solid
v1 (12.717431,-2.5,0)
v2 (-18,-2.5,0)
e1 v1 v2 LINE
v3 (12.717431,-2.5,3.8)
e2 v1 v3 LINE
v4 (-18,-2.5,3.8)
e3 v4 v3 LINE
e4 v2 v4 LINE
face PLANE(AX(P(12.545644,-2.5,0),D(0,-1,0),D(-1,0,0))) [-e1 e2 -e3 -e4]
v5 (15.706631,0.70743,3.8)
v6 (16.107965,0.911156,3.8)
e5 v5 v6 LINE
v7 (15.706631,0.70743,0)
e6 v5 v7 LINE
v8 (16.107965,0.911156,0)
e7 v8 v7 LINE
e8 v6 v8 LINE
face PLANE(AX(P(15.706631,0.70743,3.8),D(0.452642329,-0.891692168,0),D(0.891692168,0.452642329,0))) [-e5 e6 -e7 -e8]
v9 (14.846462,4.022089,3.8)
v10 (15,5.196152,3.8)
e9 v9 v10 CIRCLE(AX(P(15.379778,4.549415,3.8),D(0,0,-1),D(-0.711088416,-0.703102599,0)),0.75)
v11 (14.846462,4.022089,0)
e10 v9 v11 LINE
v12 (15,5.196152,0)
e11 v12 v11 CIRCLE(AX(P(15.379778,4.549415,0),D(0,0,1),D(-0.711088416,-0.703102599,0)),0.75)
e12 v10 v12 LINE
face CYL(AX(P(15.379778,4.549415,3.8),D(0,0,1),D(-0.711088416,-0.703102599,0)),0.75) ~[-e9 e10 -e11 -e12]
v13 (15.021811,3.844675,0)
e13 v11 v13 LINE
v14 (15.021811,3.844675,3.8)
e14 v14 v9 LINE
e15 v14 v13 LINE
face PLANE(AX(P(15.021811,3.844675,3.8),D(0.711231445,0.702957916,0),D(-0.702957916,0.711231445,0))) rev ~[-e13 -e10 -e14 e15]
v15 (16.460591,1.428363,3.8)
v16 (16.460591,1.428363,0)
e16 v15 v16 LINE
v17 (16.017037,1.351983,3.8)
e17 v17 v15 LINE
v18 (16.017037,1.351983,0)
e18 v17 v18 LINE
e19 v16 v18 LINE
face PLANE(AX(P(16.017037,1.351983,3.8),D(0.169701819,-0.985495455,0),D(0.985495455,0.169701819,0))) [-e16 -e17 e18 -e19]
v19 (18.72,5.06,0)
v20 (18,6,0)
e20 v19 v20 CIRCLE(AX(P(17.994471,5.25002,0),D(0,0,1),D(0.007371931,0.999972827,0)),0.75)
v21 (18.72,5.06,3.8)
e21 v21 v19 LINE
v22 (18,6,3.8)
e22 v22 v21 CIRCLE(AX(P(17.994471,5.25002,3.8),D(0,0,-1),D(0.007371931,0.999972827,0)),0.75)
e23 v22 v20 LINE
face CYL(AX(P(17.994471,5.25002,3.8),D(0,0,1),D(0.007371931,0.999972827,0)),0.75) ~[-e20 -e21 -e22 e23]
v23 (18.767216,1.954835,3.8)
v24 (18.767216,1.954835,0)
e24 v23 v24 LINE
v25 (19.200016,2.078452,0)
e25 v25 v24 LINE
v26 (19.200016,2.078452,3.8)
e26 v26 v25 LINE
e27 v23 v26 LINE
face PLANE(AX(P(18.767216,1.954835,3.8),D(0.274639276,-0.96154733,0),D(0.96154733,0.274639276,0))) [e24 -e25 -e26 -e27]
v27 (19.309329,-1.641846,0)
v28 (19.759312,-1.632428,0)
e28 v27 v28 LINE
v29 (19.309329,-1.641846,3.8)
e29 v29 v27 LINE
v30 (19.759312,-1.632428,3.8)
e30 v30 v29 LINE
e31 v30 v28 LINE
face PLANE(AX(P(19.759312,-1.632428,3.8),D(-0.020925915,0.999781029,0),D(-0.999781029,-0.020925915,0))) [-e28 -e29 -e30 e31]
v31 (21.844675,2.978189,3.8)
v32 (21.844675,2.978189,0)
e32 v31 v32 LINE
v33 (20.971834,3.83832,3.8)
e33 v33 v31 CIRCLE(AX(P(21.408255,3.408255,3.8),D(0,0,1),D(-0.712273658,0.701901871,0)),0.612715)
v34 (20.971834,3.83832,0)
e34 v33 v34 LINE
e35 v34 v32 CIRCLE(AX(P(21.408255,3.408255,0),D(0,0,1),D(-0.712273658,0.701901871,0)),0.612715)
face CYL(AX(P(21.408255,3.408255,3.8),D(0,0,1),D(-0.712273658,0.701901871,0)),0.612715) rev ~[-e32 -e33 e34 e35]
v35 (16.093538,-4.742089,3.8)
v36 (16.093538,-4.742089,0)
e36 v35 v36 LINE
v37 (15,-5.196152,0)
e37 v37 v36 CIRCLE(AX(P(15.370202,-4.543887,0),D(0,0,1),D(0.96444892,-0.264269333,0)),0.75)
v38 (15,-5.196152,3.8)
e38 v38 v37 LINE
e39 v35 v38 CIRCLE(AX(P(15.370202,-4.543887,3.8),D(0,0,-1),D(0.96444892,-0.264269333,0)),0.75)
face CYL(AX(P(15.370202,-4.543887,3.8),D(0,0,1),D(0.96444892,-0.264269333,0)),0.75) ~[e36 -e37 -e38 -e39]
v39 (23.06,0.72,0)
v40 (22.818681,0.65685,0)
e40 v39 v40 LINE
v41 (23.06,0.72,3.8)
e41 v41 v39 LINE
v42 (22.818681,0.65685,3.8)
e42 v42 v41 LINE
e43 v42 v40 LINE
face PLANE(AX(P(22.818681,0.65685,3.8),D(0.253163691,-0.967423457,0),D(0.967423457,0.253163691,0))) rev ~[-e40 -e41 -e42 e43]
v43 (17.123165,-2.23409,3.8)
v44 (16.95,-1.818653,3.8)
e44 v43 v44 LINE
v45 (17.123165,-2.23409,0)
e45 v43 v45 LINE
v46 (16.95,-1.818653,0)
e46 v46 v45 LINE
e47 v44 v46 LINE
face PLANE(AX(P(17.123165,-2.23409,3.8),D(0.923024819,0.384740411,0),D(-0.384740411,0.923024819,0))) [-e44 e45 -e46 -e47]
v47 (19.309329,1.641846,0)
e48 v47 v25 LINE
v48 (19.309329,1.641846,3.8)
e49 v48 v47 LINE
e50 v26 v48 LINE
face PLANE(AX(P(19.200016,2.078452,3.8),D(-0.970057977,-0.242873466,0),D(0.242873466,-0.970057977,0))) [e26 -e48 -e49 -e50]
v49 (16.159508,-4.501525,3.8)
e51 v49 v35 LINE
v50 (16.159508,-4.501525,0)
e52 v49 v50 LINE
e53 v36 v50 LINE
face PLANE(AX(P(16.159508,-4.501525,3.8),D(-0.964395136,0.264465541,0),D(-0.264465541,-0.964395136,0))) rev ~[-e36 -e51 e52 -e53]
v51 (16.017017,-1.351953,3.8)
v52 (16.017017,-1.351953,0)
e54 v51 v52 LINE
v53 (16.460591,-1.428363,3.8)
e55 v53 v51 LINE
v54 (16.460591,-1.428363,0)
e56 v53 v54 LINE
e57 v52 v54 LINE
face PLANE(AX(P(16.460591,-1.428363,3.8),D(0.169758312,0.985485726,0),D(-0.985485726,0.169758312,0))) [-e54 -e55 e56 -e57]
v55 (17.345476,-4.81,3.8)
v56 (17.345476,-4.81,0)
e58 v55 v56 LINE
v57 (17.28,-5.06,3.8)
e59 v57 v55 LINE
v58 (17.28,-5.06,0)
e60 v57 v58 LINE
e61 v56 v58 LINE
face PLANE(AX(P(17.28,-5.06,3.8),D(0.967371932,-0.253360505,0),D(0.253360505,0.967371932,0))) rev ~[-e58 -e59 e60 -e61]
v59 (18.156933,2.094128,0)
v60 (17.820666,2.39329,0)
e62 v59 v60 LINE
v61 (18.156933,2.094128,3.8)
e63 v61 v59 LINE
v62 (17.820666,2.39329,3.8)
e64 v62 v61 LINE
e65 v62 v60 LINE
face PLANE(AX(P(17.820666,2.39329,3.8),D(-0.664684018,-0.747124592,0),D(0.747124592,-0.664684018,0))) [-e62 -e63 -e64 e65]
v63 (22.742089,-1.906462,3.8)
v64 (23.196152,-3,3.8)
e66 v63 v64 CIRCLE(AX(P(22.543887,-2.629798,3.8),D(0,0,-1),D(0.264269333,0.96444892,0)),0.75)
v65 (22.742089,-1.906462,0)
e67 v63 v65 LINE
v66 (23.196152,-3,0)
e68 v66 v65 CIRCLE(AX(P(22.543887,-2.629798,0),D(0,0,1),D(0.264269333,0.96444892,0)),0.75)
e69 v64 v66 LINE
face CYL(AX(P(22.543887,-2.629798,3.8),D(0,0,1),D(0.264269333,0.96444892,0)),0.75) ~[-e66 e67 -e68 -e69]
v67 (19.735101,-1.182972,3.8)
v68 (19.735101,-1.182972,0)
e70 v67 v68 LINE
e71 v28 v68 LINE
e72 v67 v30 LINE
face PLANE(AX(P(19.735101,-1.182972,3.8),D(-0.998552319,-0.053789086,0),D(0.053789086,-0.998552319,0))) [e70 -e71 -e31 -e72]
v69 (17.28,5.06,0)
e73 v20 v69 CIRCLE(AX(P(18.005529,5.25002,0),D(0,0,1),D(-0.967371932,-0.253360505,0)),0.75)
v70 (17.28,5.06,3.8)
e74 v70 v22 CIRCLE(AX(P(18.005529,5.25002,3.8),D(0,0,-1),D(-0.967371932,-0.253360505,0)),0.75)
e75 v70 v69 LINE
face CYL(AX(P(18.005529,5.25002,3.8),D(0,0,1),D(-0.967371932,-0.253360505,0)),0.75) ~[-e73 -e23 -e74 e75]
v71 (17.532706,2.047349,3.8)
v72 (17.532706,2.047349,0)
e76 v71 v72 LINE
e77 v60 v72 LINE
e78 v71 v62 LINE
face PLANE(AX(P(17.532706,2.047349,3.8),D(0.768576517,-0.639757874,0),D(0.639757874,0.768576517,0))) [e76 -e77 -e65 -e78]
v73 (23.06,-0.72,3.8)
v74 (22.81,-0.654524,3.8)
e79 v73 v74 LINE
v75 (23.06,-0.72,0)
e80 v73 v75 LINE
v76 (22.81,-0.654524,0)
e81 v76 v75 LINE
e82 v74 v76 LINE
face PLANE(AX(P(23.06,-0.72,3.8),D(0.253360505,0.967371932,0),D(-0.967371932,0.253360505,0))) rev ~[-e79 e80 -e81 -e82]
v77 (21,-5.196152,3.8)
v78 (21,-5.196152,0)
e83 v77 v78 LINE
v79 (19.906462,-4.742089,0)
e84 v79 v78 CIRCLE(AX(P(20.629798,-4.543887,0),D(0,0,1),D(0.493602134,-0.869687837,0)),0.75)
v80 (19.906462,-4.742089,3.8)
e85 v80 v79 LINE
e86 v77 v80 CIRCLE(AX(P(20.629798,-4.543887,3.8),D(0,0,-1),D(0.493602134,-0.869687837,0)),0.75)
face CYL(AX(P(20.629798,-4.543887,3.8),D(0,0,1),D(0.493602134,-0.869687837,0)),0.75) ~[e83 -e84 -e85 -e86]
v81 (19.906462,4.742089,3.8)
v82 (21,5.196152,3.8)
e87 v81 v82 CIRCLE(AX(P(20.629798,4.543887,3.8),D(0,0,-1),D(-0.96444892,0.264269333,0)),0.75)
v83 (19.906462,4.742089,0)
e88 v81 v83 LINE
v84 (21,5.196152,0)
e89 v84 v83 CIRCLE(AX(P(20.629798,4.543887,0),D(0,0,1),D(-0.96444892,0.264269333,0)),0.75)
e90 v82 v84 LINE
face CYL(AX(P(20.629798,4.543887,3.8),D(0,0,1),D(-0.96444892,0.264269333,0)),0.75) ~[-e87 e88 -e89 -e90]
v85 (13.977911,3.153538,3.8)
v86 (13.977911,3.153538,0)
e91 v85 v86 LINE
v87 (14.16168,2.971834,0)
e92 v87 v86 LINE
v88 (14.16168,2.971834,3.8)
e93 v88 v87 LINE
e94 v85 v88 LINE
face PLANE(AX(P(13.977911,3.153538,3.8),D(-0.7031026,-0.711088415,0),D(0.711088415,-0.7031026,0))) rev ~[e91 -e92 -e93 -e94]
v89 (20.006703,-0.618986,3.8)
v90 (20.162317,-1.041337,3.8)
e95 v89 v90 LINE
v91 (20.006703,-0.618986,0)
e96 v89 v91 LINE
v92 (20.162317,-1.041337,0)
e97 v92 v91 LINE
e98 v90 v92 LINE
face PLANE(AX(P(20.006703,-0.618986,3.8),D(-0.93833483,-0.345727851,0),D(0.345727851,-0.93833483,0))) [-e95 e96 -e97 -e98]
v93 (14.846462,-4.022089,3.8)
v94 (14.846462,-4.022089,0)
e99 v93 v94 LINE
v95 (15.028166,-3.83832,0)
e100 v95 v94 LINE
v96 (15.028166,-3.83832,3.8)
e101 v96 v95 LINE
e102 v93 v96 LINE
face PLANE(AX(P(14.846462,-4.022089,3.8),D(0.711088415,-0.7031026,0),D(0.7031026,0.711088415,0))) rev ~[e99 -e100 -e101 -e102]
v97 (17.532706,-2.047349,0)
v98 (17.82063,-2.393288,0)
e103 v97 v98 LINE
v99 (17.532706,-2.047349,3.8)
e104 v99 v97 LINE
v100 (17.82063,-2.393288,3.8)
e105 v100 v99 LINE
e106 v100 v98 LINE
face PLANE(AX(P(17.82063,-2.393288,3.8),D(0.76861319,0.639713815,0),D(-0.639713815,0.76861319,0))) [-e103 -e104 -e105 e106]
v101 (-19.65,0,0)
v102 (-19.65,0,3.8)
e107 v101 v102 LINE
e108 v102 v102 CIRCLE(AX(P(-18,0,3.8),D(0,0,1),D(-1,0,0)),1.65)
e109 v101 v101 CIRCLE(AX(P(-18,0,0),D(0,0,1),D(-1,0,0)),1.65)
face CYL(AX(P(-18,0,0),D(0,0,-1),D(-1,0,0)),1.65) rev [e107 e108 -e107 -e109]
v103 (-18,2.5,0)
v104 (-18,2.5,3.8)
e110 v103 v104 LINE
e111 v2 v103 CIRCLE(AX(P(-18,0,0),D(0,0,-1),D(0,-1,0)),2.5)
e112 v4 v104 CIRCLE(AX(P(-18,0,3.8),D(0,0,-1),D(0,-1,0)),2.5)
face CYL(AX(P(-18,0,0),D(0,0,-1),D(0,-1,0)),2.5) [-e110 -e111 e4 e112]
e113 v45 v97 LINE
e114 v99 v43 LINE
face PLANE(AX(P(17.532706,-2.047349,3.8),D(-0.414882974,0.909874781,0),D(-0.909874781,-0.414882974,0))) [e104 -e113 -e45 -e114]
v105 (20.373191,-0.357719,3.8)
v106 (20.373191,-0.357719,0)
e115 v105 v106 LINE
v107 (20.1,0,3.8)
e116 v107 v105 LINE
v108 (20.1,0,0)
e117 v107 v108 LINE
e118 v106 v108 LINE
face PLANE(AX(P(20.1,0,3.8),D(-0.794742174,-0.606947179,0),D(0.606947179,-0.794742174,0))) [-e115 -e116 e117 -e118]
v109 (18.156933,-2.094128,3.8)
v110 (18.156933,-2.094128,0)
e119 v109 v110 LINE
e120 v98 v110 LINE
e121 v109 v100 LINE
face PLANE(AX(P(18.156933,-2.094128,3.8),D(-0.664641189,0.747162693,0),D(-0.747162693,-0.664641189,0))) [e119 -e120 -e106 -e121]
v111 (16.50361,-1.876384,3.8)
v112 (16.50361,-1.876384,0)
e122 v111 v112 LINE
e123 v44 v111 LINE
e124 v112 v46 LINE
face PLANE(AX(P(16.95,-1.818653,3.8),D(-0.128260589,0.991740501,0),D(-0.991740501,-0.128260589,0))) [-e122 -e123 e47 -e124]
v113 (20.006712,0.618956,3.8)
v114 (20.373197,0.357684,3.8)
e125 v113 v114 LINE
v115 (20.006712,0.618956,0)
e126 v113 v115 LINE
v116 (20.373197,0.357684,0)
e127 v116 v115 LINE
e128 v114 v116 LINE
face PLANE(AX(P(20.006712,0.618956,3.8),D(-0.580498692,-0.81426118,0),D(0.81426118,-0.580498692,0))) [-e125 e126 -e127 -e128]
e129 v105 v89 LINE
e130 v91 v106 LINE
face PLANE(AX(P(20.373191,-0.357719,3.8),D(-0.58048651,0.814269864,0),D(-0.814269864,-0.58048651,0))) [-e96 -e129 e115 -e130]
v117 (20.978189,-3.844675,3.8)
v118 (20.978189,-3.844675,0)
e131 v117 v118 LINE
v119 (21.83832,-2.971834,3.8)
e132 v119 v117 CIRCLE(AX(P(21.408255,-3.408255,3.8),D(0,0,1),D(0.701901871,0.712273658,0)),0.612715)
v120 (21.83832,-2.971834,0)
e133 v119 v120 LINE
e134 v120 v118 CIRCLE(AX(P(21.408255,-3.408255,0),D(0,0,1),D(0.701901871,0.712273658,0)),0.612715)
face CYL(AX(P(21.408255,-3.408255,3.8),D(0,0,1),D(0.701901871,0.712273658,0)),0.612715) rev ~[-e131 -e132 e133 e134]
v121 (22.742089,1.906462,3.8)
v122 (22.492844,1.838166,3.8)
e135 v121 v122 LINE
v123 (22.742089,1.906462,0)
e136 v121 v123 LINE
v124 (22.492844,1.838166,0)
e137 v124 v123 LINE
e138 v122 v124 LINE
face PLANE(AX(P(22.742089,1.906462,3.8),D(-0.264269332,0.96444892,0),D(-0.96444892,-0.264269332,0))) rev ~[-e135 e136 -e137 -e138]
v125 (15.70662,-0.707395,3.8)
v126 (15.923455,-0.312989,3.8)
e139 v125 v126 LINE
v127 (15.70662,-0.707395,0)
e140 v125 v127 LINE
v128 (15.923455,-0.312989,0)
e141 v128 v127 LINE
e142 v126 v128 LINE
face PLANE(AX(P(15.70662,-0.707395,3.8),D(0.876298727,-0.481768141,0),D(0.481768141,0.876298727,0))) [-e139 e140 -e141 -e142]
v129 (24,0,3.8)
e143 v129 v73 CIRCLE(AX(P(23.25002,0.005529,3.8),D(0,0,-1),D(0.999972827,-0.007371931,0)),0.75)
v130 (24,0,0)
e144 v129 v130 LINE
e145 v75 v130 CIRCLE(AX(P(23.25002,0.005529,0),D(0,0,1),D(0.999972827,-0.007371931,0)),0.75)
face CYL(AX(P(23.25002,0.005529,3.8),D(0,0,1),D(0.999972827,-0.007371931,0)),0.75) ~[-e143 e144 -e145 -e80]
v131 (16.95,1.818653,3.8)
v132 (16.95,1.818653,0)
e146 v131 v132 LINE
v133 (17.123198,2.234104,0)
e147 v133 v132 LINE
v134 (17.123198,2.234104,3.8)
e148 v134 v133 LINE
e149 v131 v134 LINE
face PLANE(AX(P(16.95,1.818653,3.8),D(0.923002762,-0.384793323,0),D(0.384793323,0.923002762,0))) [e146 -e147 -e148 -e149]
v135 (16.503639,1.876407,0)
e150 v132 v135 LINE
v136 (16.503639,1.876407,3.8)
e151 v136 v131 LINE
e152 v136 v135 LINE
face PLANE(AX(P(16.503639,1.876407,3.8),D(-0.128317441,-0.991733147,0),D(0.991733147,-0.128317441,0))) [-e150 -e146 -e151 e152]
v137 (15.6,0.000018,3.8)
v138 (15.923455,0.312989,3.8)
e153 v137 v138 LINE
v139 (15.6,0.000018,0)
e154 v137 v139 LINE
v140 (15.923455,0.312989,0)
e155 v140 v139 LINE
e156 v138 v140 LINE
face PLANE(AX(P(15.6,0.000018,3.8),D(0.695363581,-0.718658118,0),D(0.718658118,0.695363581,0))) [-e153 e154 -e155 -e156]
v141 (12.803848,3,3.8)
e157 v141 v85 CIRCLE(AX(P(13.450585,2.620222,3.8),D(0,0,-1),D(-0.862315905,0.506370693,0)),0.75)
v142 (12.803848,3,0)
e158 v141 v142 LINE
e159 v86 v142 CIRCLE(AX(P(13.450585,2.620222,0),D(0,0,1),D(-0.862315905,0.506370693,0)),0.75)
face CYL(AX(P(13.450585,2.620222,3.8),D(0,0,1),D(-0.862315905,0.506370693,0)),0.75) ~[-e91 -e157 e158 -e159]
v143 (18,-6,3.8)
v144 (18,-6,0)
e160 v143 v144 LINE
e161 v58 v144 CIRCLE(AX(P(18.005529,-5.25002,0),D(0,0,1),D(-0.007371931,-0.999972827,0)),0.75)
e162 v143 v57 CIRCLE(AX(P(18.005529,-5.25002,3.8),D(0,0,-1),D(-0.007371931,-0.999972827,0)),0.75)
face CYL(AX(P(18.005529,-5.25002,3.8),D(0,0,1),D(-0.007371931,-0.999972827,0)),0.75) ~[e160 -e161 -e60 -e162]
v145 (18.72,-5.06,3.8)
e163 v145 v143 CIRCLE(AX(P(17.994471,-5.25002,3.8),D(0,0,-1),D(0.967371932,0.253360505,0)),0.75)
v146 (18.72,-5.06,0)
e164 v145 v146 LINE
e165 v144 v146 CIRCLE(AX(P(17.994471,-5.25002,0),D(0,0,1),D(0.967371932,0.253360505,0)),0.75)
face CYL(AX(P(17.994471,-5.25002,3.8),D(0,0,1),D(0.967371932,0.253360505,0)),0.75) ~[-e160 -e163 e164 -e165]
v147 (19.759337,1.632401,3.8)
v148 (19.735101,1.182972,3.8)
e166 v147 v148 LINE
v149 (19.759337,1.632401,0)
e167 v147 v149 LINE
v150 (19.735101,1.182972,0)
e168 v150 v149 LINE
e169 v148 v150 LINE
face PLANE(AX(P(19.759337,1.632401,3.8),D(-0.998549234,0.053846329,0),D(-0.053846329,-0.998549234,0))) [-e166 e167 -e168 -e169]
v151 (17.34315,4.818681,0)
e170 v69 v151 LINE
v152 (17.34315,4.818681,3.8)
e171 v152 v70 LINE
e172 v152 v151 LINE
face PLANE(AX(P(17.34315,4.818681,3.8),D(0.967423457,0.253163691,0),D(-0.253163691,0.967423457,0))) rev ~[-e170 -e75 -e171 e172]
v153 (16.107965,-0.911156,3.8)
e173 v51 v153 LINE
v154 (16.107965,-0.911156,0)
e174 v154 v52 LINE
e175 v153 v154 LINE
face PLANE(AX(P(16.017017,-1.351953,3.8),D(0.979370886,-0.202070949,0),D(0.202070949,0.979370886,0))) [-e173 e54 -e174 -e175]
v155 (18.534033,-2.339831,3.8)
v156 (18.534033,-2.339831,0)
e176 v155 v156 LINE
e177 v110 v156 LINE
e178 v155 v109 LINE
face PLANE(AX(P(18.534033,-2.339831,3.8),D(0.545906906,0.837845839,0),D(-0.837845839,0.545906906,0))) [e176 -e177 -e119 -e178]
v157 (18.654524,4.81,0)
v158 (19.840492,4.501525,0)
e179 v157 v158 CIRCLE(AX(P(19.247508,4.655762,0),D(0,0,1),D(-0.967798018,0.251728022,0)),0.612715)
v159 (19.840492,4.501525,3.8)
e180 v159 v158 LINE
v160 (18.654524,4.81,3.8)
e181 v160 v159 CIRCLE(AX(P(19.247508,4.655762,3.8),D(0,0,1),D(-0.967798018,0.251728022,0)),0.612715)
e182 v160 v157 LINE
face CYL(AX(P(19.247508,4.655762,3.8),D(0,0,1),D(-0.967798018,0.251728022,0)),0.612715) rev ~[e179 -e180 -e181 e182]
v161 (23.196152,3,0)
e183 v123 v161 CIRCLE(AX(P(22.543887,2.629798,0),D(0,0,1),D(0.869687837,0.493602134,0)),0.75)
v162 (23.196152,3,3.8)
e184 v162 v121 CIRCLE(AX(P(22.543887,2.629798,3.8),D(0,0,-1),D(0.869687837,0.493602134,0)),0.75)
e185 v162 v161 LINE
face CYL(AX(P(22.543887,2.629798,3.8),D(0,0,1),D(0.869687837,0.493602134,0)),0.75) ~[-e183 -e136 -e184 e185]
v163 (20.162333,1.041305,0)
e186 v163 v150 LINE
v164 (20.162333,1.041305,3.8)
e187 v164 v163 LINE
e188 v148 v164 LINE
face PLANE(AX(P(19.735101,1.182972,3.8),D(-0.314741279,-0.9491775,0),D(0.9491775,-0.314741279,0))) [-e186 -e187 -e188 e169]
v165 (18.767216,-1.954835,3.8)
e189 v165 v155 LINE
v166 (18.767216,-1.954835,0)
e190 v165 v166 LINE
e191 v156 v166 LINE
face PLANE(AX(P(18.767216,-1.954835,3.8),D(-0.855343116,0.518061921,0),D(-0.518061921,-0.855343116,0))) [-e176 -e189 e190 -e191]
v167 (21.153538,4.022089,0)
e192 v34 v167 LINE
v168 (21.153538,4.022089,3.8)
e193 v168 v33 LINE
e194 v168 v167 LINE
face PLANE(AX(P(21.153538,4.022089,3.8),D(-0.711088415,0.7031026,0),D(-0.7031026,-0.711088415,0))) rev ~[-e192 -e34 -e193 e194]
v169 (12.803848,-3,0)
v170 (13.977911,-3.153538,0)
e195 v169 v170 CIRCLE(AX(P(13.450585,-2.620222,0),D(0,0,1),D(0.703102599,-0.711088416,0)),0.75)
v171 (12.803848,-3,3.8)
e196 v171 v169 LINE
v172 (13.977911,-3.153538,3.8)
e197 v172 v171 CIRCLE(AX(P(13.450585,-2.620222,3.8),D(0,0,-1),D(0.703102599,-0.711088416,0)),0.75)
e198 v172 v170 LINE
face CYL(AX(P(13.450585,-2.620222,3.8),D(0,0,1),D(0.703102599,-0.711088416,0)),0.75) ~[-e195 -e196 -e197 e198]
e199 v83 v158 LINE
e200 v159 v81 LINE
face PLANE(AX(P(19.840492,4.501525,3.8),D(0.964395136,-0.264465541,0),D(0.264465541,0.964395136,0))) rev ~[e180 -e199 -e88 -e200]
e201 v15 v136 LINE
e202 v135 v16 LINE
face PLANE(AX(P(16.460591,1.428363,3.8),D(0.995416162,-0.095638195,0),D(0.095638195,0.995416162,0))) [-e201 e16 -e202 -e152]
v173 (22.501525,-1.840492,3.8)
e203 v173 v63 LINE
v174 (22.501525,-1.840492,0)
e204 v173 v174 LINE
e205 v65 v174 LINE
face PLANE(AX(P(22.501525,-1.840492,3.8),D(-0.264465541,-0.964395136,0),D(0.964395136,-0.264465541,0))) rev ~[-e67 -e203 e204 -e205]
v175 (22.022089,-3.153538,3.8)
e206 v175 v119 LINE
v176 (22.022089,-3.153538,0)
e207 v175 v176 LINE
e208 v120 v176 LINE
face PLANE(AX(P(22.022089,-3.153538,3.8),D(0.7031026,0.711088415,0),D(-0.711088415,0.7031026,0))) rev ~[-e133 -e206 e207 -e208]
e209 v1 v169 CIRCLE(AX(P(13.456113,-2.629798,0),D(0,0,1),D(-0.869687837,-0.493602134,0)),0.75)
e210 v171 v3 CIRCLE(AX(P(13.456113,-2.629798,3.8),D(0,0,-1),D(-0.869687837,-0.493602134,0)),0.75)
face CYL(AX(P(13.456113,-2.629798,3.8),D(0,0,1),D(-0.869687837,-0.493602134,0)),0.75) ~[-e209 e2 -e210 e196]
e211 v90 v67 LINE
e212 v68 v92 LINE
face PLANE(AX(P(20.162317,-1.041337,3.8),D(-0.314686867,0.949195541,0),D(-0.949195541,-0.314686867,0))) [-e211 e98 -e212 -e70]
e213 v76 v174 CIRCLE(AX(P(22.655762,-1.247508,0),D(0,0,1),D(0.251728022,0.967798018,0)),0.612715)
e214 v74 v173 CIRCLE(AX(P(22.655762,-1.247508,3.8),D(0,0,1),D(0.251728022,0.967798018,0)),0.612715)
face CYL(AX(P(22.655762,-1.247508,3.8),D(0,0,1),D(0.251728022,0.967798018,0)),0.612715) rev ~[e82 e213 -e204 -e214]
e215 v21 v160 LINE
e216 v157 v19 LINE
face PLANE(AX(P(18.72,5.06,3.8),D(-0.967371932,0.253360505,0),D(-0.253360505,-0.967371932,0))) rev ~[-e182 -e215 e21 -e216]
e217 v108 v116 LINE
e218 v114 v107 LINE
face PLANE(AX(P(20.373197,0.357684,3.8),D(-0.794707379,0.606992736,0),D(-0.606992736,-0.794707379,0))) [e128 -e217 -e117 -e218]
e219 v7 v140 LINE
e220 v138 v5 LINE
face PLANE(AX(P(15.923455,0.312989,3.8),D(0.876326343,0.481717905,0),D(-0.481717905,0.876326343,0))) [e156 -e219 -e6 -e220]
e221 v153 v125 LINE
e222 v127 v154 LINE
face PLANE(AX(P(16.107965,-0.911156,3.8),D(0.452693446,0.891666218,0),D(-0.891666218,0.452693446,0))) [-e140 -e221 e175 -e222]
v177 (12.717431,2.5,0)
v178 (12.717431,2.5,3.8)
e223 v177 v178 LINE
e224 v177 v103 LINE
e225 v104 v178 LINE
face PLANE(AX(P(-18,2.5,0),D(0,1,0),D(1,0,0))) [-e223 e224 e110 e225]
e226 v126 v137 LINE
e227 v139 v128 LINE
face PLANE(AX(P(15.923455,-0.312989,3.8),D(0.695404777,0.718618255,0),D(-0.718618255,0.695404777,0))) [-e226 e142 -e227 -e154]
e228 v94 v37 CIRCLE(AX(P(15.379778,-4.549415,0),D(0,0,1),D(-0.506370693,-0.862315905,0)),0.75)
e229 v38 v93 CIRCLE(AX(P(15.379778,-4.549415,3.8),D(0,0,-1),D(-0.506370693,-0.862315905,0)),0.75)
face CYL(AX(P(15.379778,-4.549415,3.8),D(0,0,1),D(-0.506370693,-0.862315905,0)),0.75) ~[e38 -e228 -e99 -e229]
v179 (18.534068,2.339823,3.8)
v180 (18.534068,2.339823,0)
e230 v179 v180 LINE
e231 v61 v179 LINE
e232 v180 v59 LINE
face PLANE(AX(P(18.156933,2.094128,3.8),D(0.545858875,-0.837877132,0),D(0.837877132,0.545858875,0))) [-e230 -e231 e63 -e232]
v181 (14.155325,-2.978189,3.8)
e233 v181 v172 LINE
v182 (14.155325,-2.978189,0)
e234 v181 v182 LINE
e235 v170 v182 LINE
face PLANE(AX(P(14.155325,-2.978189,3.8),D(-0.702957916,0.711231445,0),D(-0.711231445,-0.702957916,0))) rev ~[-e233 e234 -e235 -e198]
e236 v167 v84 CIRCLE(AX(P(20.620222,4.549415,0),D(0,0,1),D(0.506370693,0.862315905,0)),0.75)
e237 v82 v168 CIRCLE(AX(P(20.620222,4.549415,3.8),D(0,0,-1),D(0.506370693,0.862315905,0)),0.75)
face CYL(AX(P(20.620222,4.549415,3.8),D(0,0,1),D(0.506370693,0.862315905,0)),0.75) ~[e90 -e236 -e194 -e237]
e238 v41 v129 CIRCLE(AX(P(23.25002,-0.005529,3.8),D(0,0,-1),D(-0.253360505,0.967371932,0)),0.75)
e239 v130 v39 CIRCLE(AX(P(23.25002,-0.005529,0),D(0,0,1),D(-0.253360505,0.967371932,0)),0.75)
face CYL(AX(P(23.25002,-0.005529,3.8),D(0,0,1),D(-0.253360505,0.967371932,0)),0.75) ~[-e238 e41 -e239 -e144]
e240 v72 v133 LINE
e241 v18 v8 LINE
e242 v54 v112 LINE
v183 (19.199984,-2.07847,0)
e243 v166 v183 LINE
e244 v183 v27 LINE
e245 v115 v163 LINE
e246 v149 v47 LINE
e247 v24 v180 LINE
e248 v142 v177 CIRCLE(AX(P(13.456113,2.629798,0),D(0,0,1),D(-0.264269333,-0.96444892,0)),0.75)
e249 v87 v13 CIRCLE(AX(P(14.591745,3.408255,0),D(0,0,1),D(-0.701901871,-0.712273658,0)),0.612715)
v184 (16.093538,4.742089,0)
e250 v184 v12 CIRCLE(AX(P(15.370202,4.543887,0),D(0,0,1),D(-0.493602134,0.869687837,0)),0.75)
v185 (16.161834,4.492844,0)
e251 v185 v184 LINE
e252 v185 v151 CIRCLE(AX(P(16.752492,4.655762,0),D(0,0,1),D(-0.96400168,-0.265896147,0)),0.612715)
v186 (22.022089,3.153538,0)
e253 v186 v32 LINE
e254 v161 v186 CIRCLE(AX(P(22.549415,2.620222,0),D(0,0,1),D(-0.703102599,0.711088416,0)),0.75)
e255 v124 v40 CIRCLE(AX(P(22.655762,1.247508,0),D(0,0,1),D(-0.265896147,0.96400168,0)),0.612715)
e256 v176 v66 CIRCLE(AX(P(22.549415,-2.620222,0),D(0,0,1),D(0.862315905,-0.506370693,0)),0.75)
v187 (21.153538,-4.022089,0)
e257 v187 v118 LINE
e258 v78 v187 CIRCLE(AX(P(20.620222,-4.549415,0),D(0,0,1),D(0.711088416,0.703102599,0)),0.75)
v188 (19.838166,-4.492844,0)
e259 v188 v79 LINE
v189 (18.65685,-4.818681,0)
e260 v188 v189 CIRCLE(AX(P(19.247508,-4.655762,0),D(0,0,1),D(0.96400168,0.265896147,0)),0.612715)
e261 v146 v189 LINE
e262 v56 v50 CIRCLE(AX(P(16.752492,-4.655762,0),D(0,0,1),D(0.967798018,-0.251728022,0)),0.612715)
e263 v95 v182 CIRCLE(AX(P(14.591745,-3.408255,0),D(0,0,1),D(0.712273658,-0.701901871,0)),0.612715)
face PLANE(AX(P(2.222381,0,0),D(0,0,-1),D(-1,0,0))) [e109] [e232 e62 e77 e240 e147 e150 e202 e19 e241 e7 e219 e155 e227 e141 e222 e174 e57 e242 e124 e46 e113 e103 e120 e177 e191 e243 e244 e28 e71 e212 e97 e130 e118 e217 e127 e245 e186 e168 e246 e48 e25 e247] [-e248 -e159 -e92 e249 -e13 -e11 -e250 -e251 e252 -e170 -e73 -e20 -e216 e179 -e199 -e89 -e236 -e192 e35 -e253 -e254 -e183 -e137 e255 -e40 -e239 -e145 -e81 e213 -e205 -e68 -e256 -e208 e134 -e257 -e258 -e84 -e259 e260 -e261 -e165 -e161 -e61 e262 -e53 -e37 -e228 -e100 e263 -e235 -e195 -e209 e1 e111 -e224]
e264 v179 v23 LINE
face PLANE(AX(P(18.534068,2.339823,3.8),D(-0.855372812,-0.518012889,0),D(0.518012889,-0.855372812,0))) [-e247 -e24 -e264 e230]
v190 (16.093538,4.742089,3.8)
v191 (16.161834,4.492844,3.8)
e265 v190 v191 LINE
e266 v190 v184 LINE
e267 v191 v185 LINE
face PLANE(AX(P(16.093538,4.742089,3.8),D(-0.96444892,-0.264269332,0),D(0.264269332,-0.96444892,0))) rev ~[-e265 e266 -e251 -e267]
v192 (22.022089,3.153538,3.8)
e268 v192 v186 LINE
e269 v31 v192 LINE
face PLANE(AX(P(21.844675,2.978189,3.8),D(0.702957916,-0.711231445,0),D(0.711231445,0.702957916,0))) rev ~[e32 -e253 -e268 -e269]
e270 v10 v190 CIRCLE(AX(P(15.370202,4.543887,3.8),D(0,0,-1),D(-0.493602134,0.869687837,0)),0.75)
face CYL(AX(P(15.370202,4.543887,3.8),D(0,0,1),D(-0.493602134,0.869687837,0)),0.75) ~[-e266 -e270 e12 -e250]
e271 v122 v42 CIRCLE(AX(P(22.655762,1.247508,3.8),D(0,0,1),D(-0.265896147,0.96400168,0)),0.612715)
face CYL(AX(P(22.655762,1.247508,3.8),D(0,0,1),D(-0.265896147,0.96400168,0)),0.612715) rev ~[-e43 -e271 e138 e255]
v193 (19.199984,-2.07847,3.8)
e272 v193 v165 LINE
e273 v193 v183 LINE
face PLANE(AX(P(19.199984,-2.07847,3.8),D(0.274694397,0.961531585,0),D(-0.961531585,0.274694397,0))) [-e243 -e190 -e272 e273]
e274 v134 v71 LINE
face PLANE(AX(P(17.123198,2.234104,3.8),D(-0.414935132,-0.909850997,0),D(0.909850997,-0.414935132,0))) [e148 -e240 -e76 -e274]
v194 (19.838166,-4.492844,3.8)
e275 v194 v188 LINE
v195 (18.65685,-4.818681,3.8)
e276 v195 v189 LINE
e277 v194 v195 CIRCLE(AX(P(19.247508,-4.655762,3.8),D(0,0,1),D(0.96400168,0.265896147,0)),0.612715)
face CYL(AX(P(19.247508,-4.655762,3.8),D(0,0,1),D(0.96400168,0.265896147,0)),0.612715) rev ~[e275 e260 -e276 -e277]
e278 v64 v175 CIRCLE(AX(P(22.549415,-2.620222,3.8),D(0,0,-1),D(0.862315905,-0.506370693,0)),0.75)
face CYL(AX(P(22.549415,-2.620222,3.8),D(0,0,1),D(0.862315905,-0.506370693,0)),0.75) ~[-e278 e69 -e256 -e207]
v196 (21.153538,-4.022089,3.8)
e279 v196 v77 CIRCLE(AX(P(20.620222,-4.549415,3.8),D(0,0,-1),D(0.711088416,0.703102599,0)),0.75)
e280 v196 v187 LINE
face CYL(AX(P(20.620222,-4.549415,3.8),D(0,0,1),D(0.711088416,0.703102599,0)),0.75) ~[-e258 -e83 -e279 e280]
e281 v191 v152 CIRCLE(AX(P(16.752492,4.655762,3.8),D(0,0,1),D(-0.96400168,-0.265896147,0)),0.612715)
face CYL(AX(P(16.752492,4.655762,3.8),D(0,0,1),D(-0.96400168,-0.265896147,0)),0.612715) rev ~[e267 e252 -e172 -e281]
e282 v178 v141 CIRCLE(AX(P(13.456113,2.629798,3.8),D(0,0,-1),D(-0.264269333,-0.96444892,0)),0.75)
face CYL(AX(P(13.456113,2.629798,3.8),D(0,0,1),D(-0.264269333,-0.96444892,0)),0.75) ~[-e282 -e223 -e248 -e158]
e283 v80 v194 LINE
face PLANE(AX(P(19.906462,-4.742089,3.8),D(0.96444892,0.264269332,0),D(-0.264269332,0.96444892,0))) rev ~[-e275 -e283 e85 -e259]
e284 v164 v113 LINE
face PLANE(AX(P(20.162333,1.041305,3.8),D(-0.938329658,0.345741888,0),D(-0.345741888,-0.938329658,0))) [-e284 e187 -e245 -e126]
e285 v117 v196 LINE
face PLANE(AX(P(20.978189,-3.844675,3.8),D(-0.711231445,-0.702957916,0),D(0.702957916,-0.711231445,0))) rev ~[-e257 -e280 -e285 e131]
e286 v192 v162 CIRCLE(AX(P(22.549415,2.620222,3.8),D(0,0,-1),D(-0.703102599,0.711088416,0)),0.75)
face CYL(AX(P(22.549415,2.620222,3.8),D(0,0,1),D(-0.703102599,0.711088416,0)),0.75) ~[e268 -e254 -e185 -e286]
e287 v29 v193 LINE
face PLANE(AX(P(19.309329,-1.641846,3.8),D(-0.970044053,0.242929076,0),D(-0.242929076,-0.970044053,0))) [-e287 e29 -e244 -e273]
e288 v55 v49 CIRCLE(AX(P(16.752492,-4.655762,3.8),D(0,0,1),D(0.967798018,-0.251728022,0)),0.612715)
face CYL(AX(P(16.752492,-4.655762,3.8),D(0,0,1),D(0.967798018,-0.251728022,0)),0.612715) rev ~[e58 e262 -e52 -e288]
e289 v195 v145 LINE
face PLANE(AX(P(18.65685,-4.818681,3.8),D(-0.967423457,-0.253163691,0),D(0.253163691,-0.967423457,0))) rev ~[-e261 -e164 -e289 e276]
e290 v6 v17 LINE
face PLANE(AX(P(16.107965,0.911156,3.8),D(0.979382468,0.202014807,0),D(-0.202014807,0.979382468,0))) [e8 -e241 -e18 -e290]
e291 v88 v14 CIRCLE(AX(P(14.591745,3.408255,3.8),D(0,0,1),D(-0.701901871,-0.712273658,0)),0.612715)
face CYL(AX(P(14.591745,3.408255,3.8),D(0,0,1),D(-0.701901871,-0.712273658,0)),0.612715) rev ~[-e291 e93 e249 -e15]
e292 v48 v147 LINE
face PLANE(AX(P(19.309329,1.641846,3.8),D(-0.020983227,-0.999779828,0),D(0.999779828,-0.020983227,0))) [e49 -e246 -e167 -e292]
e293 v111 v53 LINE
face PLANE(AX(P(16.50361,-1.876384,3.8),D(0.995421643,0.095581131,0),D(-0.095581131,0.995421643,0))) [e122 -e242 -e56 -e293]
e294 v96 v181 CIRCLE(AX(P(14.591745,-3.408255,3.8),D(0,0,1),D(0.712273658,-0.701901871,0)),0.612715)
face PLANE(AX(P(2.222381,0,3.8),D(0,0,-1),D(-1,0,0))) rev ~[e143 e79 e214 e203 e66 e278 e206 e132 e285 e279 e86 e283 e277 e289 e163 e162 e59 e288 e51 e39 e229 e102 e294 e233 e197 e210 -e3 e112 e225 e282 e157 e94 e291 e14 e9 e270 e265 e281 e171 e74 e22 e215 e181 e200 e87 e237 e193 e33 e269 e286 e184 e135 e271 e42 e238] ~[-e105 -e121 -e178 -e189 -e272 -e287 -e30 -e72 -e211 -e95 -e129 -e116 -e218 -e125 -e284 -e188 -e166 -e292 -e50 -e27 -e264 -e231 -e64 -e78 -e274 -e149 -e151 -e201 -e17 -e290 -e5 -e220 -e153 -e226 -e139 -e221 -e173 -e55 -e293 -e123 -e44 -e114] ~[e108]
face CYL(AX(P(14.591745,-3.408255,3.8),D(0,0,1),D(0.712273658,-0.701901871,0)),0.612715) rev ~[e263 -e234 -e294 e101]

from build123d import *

# Parameters (mm, degrees)
SKETCH1_R           = 1.65
BOSS_EXTRUDE1_DEPTH = 3.8
CUT_EXTRUDE1_DEPTH  = 26.02878343
CIRPATTERN1_COUNT   = 12
SKETCH3_W           = 5.990659071
SKETCH3_H           = 5
BOSS_EXTRUDE2_DEPTH = 3.8
SKETCH4_R           = 2.1
CUT_EXTRUDE2_DEPTH  = 26.02878343
CUT_EXTRUDE3_DEPTH  = 10


with BuildPart() as part:
    # Sketch1 → Boss-Extrude1 (new body)
    with BuildSketch(Plane.XY):
        with BuildLine():
            Line((-18, 2.5), (12.545643943, 2.5))
            ThreePointArc((12.545643943, 2.5), (24, 0), (12.545643943, -2.5))
            Line((12.545643943, -2.5), (-18, -2.5))
            ThreePointArc((-18, -2.5), (-20.5, 0), (-18, 2.5))
        make_face()
        with Locations(Location((-18, 0, 0), (0, 0, 180))):
            Circle(SKETCH1_R, mode=Mode.SUBTRACT)
    extrude(amount=BOSS_EXTRUDE1_DEPTH)

    # Sketch2 → Cut-Extrude1 (cut, through all)
    with BuildSketch(Plane.XY.offset(3.8)):
        with BuildLine():
            ThreePointArc((21, 5.196152423), (19.633748274, 6.097231567), (18, 6))
            ThreePointArc((18, 6), (19.552914271, 5.795554958), (21, 5.196152423))
        make_face()
        with BuildLine():
            ThreePointArc((18, 6), (18.589879661, 5.706078038), (18.72, 5.06))
            Line((18.72, 5.06), (18.654523502, 4.81))
            ThreePointArc((18.654523502, 4.81), (19.09327028, 4.062778187), (19.840492093, 4.501524965))
            Line((19.840492093, 4.501524965), (19.906461709, 4.742088543))
            ThreePointArc((19.906461709, 4.742088543), (20.342188248, 5.236548367), (21, 5.196152423))
            ThreePointArc((21, 5.196152423), (19.552914271, 5.795554958), (18, 6))
        make_face()
    cut_extrude1 = extrude(amount=-CUT_EXTRUDE1_DEPTH, mode=Mode.SUBTRACT)

    # CirPattern1: Cut-Extrude1 ×12 about axis
    cirpattern1_axis = Axis((18, 0, 0), (0, 0, 1))
    for i in range(1, CIRPATTERN1_COUNT):
        add(cut_extrude1.rotate(cirpattern1_axis, i * 360 / CIRPATTERN1_COUNT), mode=Mode.SUBTRACT)

    # Sketch3 → Boss-Extrude2 (add)
    with BuildSketch(Plane.XY.offset(3.8)):
        with Locations((13.282390893, 0)):
            Rectangle(SKETCH3_W, SKETCH3_H)
    extrude(amount=-BOSS_EXTRUDE2_DEPTH)

    # Sketch4 → Cut-Extrude2 (cut, through all)
    with BuildSketch(Plane.XY.offset(3.8)):
        with Locations((18, 0)):
            Circle(SKETCH4_R)
    extrude(amount=-CUT_EXTRUDE2_DEPTH, mode=Mode.SUBTRACT)

    # Sketch5 → Cut-Extrude3 (cut)
    with BuildSketch(Plane.XY.offset(3.8)):
        Polygon((20.006712152, 0.618955846), (20.373196658, 0.357683687), (20.1, 0), (20.373191307, -0.35771919), (20.006702892, -0.618985866), (20.162317494, -1.041337148), (19.735101426, -1.182972122), (19.759312282, -1.63242773), (19.309328584, -1.641846113), (19.199984453, -2.078469945), (18.767216151, -1.954834872), (18.53403274, -2.339830984), (18.156933197, -2.094127974), (17.820629874, -2.393287772), (17.532706039, -2.047348616), (17.123164831, -2.234090438), (16.95, -1.818653348), (16.50361044, -1.876384365), (16.460591069, -1.428362749), (16.017016829, -1.351953307), (16.107965377, -0.911155852), (15.706619975, -0.707395264), (15.923455265, -0.312988759), (15.6, 1.7952e-05), (15.923455265, 0.312988759), (15.706630558, 0.707429573), (16.107965377, 0.911155852), (16.017037054, 1.351982972), (16.460591069, 1.428362749), (16.503638511, 1.876406751), (16.95, 1.818653348), (17.123198253, 2.234103555), (17.532706039, 2.047348616), (17.820665677, 2.393290455), (18.156933197, 2.094127974), (18.534067743, 2.339822994), (18.767216151, 1.954834872), (19.200015547, 2.078451993), (19.309328584, 1.641846113), (19.759336703, 1.632401411), (19.735101426, 1.182972122), (20.162333072, 1.0413048), align=None)
    extrude(amount=-CUT_EXTRUDE3_DEPTH, mode=Mode.SUBTRACT)


solid = part.part
